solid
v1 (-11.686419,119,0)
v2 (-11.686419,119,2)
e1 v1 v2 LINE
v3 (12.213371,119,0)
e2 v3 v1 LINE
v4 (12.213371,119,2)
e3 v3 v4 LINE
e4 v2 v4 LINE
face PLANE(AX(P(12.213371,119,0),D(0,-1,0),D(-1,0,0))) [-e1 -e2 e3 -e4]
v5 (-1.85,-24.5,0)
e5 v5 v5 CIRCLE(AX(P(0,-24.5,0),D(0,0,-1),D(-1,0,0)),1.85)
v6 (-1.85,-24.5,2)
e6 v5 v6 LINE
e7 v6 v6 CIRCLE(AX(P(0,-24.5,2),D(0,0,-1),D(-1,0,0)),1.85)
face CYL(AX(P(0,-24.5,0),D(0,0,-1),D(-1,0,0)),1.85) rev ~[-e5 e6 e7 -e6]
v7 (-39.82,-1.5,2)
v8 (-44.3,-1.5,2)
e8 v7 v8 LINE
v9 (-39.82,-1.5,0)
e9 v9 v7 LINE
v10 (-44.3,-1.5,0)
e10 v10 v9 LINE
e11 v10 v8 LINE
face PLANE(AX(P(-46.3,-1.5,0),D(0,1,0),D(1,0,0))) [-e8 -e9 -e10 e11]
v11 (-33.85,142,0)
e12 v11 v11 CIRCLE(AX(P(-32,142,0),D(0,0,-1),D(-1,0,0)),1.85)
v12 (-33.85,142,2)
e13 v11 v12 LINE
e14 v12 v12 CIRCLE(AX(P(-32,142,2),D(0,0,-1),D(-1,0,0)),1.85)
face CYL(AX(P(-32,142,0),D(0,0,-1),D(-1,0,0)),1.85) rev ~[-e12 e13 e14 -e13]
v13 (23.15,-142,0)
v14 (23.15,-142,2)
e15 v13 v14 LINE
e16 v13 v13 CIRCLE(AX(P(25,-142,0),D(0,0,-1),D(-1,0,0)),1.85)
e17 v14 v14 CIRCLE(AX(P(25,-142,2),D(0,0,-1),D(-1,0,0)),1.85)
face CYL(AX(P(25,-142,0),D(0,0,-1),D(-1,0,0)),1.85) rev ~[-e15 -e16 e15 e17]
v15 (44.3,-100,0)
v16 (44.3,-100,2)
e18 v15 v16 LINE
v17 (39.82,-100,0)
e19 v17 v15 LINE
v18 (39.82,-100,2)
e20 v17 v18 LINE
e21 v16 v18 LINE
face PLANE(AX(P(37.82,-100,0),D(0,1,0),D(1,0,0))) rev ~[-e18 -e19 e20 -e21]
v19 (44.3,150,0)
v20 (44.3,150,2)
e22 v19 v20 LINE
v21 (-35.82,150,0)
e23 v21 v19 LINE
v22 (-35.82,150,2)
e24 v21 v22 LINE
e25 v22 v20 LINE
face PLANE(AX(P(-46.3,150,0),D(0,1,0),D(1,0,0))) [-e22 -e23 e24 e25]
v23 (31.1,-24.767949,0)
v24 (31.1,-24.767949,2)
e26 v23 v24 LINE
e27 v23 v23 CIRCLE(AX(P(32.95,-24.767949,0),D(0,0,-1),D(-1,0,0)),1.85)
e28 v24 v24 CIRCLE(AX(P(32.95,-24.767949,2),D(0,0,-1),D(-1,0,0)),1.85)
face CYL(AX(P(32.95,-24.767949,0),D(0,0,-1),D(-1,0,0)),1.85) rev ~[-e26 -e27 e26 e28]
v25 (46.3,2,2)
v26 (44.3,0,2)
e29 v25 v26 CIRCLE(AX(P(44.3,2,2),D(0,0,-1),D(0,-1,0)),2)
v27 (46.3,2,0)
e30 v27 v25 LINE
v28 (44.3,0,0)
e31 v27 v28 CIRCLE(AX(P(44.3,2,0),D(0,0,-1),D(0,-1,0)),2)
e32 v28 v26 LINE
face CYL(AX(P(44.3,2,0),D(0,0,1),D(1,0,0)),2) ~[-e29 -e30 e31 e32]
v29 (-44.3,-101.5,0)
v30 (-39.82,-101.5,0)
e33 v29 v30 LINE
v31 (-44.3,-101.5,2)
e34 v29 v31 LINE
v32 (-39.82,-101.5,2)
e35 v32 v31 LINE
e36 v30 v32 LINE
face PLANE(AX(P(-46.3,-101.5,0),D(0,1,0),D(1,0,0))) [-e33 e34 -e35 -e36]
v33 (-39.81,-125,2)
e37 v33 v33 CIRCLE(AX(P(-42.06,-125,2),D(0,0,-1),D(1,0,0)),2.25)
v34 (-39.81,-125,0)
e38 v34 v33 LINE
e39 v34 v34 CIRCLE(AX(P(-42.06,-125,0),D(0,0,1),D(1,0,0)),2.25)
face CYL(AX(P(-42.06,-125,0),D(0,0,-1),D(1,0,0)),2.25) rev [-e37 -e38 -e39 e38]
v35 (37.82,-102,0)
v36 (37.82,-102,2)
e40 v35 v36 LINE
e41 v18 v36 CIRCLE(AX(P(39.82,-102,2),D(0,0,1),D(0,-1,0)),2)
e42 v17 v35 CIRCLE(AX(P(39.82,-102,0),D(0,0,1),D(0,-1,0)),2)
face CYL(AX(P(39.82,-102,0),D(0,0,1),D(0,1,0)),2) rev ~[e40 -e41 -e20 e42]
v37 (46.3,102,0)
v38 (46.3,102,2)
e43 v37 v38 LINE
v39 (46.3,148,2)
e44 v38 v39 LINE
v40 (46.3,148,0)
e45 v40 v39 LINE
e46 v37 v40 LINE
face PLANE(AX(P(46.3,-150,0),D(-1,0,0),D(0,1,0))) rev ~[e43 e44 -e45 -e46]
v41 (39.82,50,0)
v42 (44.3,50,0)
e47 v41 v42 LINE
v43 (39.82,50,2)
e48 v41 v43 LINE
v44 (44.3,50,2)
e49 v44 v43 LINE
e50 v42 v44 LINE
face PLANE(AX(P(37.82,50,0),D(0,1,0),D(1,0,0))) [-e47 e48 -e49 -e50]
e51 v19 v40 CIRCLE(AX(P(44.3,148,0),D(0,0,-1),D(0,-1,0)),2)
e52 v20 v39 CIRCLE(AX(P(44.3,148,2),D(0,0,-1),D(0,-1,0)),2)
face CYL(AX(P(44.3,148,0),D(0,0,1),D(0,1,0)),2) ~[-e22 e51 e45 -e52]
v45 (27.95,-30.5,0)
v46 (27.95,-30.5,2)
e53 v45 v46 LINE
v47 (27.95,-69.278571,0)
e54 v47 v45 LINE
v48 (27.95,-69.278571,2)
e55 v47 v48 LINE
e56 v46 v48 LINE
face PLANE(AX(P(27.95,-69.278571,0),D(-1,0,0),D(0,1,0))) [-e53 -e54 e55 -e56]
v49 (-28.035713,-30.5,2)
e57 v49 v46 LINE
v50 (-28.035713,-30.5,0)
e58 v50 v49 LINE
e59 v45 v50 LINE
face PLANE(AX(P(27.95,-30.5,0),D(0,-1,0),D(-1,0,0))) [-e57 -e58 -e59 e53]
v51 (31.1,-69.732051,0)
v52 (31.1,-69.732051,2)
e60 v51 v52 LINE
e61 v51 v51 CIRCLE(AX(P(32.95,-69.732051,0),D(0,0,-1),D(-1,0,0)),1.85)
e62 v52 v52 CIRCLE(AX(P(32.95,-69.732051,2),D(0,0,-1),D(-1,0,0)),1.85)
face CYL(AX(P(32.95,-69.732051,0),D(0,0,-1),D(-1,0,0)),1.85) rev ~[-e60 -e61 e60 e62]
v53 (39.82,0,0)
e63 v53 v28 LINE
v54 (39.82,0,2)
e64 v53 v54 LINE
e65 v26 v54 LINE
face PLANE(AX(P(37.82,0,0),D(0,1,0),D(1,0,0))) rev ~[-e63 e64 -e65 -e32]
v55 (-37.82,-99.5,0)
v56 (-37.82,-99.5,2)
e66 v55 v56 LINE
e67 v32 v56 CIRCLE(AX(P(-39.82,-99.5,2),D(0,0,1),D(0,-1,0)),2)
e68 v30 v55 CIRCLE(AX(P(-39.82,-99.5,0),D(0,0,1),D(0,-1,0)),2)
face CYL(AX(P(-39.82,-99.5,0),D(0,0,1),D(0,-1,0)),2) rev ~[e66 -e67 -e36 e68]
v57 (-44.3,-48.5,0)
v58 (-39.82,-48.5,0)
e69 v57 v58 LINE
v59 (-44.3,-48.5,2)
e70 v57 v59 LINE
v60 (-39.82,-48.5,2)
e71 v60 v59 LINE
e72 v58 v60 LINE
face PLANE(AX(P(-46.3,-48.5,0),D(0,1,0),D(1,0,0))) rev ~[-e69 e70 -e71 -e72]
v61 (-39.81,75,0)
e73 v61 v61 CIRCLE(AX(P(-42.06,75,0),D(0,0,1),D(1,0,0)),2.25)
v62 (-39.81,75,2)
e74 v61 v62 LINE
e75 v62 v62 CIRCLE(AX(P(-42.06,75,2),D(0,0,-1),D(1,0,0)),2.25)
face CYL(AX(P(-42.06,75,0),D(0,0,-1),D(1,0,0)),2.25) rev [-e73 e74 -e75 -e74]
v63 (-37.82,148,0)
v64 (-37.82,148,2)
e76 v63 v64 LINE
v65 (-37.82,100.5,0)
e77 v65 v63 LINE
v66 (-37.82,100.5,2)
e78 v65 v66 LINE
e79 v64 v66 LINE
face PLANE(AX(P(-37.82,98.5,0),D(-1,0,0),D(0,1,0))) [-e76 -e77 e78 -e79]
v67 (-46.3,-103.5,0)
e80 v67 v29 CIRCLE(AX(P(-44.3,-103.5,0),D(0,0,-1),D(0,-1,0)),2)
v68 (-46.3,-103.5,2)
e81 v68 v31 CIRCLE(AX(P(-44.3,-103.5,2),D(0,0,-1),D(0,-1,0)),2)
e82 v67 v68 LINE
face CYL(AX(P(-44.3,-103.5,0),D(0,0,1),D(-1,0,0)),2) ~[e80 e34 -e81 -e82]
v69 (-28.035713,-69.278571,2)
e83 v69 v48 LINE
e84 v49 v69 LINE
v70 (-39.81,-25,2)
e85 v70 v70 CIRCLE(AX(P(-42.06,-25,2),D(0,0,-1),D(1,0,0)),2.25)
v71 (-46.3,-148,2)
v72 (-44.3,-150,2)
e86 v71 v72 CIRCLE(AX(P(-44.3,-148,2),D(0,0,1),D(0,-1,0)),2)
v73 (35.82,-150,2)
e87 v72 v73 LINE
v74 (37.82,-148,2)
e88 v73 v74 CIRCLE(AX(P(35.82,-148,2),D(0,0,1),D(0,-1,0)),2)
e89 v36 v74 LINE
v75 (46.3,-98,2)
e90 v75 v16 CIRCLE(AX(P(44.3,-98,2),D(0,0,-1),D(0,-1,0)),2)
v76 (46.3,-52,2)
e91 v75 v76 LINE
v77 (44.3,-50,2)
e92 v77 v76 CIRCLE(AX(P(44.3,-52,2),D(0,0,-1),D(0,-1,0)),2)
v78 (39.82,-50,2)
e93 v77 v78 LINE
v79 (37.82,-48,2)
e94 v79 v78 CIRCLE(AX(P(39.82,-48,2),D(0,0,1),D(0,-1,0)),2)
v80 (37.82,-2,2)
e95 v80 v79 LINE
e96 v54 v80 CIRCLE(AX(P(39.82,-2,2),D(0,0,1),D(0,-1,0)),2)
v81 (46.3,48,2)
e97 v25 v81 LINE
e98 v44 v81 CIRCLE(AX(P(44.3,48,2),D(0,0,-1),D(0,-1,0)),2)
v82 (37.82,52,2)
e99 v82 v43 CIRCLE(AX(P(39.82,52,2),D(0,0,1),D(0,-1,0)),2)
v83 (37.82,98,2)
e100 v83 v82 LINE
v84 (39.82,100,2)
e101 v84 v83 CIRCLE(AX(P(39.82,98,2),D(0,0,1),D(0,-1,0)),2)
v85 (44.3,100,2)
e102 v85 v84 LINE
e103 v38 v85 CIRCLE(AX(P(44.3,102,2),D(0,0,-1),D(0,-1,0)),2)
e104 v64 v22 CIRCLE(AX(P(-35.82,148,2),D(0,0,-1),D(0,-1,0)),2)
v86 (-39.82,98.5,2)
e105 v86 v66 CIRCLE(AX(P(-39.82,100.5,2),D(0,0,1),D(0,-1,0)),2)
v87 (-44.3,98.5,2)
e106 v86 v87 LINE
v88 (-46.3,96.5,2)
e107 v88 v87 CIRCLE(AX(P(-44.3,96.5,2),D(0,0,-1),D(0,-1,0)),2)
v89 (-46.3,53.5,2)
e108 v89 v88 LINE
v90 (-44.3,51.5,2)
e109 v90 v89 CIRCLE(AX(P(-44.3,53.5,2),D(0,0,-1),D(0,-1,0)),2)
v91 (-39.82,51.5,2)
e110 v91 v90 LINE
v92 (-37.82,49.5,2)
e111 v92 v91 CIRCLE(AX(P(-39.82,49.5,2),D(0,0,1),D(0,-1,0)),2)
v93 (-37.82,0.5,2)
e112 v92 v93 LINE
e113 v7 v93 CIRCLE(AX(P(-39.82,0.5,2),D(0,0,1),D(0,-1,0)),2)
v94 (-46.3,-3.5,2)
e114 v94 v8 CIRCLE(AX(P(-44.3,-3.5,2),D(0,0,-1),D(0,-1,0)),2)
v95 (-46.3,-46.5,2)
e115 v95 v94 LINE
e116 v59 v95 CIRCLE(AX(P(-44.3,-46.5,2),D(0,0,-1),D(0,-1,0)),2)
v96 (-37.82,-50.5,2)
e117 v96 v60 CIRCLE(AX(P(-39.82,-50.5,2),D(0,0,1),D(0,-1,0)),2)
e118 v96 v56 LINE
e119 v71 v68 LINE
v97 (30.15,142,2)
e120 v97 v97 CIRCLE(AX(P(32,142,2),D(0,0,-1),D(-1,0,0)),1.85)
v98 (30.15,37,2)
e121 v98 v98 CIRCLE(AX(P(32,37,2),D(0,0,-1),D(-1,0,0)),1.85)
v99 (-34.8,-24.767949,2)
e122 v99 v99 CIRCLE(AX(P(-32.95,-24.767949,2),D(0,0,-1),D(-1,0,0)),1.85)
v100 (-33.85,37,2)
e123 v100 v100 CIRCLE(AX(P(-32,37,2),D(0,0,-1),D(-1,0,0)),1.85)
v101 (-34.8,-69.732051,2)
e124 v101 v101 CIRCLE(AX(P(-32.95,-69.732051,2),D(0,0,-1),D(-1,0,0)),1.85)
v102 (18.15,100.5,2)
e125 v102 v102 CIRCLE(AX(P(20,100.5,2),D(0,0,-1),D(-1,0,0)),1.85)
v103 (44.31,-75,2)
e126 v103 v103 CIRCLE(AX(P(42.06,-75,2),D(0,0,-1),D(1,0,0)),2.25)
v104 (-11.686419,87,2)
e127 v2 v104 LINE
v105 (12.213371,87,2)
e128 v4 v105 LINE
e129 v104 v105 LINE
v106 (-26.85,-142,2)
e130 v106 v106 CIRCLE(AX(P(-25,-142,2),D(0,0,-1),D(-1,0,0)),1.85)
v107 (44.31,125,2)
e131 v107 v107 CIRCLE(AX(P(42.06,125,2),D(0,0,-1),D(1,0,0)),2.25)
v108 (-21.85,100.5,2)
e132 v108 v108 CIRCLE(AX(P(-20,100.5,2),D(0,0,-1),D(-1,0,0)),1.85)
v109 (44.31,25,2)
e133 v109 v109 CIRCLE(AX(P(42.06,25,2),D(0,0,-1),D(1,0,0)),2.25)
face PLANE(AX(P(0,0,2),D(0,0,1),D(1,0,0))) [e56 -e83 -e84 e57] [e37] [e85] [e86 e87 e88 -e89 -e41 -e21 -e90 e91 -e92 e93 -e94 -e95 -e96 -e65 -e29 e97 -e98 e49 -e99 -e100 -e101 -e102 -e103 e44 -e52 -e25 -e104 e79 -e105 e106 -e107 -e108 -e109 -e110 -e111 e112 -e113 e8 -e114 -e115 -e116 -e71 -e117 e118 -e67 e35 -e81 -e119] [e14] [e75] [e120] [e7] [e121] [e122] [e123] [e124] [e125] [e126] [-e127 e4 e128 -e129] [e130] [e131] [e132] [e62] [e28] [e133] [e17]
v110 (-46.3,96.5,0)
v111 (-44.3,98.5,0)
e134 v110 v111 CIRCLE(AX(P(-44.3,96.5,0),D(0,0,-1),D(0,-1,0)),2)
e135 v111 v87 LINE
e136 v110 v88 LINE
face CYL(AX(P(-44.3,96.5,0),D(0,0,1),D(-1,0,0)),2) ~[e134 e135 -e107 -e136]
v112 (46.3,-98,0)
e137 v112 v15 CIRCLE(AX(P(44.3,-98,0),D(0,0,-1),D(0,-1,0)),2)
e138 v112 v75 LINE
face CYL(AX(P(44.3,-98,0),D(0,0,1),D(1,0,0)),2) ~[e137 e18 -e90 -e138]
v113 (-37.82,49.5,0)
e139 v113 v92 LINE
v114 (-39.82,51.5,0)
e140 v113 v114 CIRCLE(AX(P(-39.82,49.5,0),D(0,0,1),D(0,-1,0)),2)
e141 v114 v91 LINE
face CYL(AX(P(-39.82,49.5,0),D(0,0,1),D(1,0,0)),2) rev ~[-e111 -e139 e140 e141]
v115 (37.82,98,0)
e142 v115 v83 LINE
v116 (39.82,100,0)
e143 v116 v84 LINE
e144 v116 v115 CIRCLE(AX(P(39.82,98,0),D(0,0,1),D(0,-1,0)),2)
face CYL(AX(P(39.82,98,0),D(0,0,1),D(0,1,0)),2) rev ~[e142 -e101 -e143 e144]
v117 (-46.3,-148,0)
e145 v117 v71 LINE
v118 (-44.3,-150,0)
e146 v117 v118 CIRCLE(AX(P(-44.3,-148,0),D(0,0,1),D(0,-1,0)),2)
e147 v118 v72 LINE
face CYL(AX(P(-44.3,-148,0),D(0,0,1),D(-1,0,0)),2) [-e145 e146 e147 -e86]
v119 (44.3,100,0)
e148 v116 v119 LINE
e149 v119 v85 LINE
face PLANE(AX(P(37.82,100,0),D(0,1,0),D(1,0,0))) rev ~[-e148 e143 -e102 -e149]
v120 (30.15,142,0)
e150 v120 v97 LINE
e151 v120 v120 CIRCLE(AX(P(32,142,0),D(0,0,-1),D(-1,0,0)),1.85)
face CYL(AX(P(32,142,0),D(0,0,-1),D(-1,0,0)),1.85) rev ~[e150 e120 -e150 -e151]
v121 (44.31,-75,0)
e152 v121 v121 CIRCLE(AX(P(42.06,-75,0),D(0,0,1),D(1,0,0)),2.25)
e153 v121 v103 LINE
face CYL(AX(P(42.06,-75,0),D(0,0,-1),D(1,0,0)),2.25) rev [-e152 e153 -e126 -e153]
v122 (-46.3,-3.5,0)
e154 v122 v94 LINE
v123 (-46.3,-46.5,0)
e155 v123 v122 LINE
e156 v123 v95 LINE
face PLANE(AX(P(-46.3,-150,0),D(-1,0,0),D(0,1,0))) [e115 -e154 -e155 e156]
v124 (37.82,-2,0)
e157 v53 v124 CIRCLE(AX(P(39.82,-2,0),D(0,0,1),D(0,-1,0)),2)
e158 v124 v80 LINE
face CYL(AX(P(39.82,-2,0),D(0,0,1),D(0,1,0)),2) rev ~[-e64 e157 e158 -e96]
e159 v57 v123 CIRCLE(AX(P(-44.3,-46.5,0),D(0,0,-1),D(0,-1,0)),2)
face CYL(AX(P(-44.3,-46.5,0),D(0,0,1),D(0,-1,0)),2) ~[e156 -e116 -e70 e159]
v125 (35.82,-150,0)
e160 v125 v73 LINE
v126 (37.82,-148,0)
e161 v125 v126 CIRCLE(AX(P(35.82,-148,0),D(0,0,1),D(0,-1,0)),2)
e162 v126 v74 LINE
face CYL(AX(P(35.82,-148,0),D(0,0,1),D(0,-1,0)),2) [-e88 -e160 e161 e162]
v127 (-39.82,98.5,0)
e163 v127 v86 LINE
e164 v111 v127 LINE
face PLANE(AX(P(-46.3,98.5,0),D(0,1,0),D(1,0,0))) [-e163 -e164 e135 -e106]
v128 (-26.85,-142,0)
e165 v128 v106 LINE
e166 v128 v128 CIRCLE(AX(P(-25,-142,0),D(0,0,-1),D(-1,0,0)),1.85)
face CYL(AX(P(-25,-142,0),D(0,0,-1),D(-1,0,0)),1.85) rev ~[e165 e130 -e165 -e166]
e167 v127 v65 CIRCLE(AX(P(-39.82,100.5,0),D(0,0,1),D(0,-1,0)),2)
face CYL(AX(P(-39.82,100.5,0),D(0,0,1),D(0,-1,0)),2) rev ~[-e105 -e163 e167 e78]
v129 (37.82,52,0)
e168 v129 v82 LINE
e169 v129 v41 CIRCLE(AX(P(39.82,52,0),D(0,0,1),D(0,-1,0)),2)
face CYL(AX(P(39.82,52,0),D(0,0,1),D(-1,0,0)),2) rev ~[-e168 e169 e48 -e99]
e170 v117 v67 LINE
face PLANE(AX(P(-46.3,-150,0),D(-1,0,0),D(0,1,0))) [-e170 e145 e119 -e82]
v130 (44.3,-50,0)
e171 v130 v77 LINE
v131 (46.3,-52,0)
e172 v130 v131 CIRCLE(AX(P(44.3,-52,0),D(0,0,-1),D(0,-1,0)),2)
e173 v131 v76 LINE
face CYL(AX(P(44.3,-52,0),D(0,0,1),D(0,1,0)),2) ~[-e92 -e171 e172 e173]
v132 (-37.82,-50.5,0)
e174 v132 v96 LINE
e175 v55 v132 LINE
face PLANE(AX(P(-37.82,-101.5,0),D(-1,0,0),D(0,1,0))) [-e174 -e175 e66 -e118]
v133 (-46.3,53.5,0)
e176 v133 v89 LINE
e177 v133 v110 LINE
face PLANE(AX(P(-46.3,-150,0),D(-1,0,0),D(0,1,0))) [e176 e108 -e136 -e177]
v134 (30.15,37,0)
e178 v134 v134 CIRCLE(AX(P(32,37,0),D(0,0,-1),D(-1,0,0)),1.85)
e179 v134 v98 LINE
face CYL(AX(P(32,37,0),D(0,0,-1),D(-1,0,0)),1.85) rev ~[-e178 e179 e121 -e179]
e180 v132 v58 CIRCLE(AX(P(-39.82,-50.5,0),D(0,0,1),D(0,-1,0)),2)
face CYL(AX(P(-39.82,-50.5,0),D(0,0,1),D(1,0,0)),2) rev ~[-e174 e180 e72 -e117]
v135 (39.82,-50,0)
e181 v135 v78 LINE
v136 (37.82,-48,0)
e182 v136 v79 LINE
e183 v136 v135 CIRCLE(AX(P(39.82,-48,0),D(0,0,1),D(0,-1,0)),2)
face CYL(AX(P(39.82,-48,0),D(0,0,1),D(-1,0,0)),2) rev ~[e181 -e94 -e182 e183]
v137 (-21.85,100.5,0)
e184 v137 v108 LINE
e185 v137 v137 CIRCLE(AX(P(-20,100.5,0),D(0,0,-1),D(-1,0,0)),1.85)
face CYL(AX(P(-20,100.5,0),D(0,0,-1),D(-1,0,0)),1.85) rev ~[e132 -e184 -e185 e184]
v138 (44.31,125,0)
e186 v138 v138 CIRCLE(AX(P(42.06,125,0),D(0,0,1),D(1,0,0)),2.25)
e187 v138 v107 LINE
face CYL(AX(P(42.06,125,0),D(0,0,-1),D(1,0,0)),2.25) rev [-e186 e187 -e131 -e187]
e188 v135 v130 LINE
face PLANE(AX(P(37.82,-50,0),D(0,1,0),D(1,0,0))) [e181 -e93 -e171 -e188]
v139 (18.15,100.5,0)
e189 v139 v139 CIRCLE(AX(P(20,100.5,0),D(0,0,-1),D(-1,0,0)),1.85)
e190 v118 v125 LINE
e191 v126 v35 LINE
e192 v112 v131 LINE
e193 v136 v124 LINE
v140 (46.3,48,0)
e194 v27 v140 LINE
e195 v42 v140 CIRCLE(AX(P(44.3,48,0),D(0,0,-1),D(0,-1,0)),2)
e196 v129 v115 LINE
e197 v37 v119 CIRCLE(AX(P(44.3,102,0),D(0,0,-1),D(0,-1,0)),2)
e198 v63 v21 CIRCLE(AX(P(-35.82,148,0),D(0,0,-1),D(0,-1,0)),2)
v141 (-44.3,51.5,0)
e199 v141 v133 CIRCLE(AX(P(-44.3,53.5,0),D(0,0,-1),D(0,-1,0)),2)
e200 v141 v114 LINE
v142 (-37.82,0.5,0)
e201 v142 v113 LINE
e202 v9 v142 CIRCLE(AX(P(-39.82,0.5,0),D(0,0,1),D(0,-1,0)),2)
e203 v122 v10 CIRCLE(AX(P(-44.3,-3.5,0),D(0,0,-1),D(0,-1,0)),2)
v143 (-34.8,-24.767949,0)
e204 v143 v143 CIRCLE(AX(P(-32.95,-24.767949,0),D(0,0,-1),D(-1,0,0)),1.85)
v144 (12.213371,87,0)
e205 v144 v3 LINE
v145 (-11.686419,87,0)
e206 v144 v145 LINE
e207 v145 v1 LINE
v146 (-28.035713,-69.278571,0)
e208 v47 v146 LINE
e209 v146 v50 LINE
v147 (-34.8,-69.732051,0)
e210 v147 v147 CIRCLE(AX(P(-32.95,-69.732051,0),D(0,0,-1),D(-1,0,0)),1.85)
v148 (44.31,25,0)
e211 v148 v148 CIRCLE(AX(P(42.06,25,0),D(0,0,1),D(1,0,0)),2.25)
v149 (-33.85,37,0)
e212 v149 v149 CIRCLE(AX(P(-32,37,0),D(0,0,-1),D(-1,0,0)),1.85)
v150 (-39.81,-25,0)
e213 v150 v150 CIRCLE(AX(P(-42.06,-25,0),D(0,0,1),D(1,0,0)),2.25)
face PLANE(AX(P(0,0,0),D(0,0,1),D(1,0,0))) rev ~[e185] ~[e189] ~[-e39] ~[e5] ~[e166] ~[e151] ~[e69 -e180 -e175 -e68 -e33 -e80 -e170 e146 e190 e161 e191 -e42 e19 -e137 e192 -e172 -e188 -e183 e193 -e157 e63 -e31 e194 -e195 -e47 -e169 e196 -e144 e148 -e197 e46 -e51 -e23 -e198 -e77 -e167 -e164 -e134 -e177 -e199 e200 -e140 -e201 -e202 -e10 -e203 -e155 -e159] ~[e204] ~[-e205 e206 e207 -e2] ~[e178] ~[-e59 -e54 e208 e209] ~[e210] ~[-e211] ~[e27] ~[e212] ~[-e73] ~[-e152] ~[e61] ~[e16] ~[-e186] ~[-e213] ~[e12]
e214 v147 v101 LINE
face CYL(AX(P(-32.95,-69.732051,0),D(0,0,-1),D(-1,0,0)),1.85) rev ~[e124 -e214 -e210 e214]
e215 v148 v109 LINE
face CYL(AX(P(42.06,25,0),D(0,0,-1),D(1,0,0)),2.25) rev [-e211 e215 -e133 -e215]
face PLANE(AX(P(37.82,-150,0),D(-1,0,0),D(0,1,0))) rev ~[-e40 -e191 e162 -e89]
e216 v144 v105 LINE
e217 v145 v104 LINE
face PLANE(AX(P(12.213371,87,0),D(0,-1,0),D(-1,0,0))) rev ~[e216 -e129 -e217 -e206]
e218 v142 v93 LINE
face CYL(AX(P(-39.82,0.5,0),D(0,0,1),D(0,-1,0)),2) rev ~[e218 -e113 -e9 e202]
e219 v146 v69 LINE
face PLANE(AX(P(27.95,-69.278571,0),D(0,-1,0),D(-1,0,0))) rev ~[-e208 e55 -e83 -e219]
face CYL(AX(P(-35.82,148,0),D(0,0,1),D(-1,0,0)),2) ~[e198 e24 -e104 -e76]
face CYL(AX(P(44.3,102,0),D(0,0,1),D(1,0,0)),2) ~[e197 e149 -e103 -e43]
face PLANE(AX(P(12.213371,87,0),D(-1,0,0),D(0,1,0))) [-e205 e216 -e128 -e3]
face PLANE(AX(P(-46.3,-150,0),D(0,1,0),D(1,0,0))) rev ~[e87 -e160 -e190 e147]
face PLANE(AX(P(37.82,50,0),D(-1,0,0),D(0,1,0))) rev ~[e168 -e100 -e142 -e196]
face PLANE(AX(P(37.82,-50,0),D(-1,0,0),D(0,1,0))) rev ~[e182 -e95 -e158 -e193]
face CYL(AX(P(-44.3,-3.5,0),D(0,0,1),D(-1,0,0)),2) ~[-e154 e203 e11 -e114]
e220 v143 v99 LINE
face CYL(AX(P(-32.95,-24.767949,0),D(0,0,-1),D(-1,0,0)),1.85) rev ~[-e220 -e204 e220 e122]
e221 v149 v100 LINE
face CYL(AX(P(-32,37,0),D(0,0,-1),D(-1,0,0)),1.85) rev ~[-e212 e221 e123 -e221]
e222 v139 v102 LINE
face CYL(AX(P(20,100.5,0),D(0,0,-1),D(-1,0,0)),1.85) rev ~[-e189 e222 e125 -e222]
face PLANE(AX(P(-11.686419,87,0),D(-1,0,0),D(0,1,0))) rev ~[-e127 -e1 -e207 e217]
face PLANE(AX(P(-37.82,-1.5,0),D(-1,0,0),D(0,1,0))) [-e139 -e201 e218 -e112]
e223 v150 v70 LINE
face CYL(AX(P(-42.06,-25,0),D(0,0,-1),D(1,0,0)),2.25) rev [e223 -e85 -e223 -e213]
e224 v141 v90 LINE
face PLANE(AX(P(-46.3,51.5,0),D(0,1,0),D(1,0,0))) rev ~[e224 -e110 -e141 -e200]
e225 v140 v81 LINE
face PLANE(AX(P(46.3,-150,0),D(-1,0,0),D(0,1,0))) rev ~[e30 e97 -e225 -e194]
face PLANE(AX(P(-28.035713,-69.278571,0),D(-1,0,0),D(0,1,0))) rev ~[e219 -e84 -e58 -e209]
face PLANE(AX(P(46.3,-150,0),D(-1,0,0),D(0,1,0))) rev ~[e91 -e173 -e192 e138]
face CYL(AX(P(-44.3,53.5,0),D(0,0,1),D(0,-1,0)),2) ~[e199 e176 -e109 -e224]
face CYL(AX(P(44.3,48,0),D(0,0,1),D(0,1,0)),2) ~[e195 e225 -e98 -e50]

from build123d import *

# Parameters (mm, degrees)
SKETCH1_W           = 92.6
SKETCH1_H           = 300
BOSS_EXTRUDE1_DEPTH = 2
SKETCH2_R           = 2.25
SKETCH2_W           = 8.48
SKETCH2_H           = 51.5
SKETCH2_H_2         = 50
SKETCH2_H_3         = 53
CUT_EXTRUDE2_DEPTH  = 10
FILLET1_R           = 2
SKETCH3_R           = 1.85
CUT_EXTRUDE3_DEPTH  = 10
SKETCH4_R           = 1.85
SKETCH4_W           = 55.985713182
SKETCH4_H           = 38.778571429
CUT_EXTRUDE4_DEPTH  = 5
SKETCH5_R           = 1.85
SKETCH5_W           = 23.899789691
SKETCH5_H           = 32
CUT_EXTRUDE5_DEPTH  = 5


with BuildPart() as part:
    # Sketch1 → Boss-Extrude1 (new body)
    with BuildSketch(Plane.XY):
        Rectangle(SKETCH1_W, SKETCH1_H)
    extrude(amount=BOSS_EXTRUDE1_DEPTH)

    # Sketch2 → Cut-Extrude2 (cut)
    with BuildSketch(Plane.XY):
        with Locations((-42.06, 75)):
            Circle(SKETCH2_R)
        with Locations((42.06, 125)):
            Circle(SKETCH2_R)
        with Locations((42.06, 25)):
            Circle(SKETCH2_R)
        with Locations((42.06, -75)):
            Circle(SKETCH2_R)
        with Locations((-42.06, -25)):
            Circle(SKETCH2_R)
        with Locations((-42.06, -125)):
            Circle(SKETCH2_R)
        with Locations((-42.06, 124.25)):
            Rectangle(SKETCH2_W, SKETCH2_H)
        with Locations((42.06, 75)):
            Rectangle(SKETCH2_W, SKETCH2_H_2)
        with Locations((42.06, -25)):
            Rectangle(SKETCH2_W, SKETCH2_H_2)
        with Locations((-42.06, 25)):
            Rectangle(SKETCH2_W, SKETCH2_H_3)
        with Locations((-42.06, -75)):
            Rectangle(SKETCH2_W, SKETCH2_H_3)
        with Locations((42.06, -125)):
            Rectangle(SKETCH2_W, SKETCH2_H_2)
    extrude(amount=CUT_EXTRUDE2_DEPTH, mode=Mode.SUBTRACT)

    # Fillet1
    fillet1_edges = [part.edges().sort_by_distance(p)[0] for p in [
        (46.3, -100, 1),
        (37.82, -100, 1),
        (37.82, -150, 1),
        (46.3, 50, 1),
        (46.3, 100, 1),
        (37.82, 100, 1),
        (37.82, 50, 1),
        (-46.3, -48.5, 1),
        (-46.3, -101.5, 1),
        (-37.82, -101.5, 1),
        (-37.82, -48.5, 1),
        (37.82, 0, 1),
        (37.82, -50, 1),
        (46.3, -50, 1),
        (46.3, 0, 1),
        (46.3, 150, 1),
        (-46.3, 51.5, 1),
        (-46.3, -150, 1),
        (-46.3, -1.5, 1),
        (-37.82, -1.5, 1),
        (-37.82, 51.5, 1),
        (-46.3, 98.5, 1),
        (-37.82, 98.5, 1),
        (-37.82, 150, 1),
    ]]
    fillet(fillet1_edges, radius=FILLET1_R)

    # Sketch3 → Cut-Extrude3 (cut)
    with BuildSketch(Plane(origin=(0, 0, 0), x_dir=(-1, 0, 0), z_dir=(0, 0, -1))):
        with Locations((-25, -142)):
            Circle(SKETCH3_R)
        with Locations((25, -142)):
            Circle(SKETCH3_R)
        with Locations((-32, 142)):
            Circle(SKETCH3_R)
        with Locations((32, 142)):
            Circle(SKETCH3_R)
    extrude(amount=-CUT_EXTRUDE3_DEPTH, mode=Mode.SUBTRACT)

    # Sketch4 → Cut-Extrude4 (cut)
    with BuildSketch(Plane(origin=(0, 0, 0), x_dir=(-1, 0, 0), z_dir=(0, 0, -1))):
        with Locations((-32.95, -24.767949192)):
            Circle(SKETCH4_R)
        with Locations((0, -24.5)):
            Circle(SKETCH4_R)
        with Locations((32.95, -24.767949192)):
            Circle(SKETCH4_R)
        with Locations((-32.95, -69.732050808)):
            Circle(SKETCH4_R)
        with Locations((32.95, -69.732050808)):
            Circle(SKETCH4_R)
        with Locations((0.042856591, -49.889285715)):
            Rectangle(SKETCH4_W, SKETCH4_H)
    extrude(amount=-CUT_EXTRUDE4_DEPTH, mode=Mode.SUBTRACT)

    # Sketch5 → Cut-Extrude5 (cut)
    with BuildSketch(Plane(origin=(0, 0, 0), x_dir=(-1, 0, 0), z_dir=(0, 0, -1))):
        with Locations((-20, 100.5)):
            Circle(SKETCH5_R)
        with Locations((20, 100.5)):
            Circle(SKETCH5_R)
        with Locations((32, 37)):
            Circle(SKETCH5_R)
        with Locations((-32, 37)):
            Circle(SKETCH5_R)
        with Locations((-0.26347569, 103)):
            Rectangle(SKETCH5_W, SKETCH5_H)
    extrude(amount=-CUT_EXTRUDE5_DEPTH, mode=Mode.SUBTRACT)


solid = part.part
